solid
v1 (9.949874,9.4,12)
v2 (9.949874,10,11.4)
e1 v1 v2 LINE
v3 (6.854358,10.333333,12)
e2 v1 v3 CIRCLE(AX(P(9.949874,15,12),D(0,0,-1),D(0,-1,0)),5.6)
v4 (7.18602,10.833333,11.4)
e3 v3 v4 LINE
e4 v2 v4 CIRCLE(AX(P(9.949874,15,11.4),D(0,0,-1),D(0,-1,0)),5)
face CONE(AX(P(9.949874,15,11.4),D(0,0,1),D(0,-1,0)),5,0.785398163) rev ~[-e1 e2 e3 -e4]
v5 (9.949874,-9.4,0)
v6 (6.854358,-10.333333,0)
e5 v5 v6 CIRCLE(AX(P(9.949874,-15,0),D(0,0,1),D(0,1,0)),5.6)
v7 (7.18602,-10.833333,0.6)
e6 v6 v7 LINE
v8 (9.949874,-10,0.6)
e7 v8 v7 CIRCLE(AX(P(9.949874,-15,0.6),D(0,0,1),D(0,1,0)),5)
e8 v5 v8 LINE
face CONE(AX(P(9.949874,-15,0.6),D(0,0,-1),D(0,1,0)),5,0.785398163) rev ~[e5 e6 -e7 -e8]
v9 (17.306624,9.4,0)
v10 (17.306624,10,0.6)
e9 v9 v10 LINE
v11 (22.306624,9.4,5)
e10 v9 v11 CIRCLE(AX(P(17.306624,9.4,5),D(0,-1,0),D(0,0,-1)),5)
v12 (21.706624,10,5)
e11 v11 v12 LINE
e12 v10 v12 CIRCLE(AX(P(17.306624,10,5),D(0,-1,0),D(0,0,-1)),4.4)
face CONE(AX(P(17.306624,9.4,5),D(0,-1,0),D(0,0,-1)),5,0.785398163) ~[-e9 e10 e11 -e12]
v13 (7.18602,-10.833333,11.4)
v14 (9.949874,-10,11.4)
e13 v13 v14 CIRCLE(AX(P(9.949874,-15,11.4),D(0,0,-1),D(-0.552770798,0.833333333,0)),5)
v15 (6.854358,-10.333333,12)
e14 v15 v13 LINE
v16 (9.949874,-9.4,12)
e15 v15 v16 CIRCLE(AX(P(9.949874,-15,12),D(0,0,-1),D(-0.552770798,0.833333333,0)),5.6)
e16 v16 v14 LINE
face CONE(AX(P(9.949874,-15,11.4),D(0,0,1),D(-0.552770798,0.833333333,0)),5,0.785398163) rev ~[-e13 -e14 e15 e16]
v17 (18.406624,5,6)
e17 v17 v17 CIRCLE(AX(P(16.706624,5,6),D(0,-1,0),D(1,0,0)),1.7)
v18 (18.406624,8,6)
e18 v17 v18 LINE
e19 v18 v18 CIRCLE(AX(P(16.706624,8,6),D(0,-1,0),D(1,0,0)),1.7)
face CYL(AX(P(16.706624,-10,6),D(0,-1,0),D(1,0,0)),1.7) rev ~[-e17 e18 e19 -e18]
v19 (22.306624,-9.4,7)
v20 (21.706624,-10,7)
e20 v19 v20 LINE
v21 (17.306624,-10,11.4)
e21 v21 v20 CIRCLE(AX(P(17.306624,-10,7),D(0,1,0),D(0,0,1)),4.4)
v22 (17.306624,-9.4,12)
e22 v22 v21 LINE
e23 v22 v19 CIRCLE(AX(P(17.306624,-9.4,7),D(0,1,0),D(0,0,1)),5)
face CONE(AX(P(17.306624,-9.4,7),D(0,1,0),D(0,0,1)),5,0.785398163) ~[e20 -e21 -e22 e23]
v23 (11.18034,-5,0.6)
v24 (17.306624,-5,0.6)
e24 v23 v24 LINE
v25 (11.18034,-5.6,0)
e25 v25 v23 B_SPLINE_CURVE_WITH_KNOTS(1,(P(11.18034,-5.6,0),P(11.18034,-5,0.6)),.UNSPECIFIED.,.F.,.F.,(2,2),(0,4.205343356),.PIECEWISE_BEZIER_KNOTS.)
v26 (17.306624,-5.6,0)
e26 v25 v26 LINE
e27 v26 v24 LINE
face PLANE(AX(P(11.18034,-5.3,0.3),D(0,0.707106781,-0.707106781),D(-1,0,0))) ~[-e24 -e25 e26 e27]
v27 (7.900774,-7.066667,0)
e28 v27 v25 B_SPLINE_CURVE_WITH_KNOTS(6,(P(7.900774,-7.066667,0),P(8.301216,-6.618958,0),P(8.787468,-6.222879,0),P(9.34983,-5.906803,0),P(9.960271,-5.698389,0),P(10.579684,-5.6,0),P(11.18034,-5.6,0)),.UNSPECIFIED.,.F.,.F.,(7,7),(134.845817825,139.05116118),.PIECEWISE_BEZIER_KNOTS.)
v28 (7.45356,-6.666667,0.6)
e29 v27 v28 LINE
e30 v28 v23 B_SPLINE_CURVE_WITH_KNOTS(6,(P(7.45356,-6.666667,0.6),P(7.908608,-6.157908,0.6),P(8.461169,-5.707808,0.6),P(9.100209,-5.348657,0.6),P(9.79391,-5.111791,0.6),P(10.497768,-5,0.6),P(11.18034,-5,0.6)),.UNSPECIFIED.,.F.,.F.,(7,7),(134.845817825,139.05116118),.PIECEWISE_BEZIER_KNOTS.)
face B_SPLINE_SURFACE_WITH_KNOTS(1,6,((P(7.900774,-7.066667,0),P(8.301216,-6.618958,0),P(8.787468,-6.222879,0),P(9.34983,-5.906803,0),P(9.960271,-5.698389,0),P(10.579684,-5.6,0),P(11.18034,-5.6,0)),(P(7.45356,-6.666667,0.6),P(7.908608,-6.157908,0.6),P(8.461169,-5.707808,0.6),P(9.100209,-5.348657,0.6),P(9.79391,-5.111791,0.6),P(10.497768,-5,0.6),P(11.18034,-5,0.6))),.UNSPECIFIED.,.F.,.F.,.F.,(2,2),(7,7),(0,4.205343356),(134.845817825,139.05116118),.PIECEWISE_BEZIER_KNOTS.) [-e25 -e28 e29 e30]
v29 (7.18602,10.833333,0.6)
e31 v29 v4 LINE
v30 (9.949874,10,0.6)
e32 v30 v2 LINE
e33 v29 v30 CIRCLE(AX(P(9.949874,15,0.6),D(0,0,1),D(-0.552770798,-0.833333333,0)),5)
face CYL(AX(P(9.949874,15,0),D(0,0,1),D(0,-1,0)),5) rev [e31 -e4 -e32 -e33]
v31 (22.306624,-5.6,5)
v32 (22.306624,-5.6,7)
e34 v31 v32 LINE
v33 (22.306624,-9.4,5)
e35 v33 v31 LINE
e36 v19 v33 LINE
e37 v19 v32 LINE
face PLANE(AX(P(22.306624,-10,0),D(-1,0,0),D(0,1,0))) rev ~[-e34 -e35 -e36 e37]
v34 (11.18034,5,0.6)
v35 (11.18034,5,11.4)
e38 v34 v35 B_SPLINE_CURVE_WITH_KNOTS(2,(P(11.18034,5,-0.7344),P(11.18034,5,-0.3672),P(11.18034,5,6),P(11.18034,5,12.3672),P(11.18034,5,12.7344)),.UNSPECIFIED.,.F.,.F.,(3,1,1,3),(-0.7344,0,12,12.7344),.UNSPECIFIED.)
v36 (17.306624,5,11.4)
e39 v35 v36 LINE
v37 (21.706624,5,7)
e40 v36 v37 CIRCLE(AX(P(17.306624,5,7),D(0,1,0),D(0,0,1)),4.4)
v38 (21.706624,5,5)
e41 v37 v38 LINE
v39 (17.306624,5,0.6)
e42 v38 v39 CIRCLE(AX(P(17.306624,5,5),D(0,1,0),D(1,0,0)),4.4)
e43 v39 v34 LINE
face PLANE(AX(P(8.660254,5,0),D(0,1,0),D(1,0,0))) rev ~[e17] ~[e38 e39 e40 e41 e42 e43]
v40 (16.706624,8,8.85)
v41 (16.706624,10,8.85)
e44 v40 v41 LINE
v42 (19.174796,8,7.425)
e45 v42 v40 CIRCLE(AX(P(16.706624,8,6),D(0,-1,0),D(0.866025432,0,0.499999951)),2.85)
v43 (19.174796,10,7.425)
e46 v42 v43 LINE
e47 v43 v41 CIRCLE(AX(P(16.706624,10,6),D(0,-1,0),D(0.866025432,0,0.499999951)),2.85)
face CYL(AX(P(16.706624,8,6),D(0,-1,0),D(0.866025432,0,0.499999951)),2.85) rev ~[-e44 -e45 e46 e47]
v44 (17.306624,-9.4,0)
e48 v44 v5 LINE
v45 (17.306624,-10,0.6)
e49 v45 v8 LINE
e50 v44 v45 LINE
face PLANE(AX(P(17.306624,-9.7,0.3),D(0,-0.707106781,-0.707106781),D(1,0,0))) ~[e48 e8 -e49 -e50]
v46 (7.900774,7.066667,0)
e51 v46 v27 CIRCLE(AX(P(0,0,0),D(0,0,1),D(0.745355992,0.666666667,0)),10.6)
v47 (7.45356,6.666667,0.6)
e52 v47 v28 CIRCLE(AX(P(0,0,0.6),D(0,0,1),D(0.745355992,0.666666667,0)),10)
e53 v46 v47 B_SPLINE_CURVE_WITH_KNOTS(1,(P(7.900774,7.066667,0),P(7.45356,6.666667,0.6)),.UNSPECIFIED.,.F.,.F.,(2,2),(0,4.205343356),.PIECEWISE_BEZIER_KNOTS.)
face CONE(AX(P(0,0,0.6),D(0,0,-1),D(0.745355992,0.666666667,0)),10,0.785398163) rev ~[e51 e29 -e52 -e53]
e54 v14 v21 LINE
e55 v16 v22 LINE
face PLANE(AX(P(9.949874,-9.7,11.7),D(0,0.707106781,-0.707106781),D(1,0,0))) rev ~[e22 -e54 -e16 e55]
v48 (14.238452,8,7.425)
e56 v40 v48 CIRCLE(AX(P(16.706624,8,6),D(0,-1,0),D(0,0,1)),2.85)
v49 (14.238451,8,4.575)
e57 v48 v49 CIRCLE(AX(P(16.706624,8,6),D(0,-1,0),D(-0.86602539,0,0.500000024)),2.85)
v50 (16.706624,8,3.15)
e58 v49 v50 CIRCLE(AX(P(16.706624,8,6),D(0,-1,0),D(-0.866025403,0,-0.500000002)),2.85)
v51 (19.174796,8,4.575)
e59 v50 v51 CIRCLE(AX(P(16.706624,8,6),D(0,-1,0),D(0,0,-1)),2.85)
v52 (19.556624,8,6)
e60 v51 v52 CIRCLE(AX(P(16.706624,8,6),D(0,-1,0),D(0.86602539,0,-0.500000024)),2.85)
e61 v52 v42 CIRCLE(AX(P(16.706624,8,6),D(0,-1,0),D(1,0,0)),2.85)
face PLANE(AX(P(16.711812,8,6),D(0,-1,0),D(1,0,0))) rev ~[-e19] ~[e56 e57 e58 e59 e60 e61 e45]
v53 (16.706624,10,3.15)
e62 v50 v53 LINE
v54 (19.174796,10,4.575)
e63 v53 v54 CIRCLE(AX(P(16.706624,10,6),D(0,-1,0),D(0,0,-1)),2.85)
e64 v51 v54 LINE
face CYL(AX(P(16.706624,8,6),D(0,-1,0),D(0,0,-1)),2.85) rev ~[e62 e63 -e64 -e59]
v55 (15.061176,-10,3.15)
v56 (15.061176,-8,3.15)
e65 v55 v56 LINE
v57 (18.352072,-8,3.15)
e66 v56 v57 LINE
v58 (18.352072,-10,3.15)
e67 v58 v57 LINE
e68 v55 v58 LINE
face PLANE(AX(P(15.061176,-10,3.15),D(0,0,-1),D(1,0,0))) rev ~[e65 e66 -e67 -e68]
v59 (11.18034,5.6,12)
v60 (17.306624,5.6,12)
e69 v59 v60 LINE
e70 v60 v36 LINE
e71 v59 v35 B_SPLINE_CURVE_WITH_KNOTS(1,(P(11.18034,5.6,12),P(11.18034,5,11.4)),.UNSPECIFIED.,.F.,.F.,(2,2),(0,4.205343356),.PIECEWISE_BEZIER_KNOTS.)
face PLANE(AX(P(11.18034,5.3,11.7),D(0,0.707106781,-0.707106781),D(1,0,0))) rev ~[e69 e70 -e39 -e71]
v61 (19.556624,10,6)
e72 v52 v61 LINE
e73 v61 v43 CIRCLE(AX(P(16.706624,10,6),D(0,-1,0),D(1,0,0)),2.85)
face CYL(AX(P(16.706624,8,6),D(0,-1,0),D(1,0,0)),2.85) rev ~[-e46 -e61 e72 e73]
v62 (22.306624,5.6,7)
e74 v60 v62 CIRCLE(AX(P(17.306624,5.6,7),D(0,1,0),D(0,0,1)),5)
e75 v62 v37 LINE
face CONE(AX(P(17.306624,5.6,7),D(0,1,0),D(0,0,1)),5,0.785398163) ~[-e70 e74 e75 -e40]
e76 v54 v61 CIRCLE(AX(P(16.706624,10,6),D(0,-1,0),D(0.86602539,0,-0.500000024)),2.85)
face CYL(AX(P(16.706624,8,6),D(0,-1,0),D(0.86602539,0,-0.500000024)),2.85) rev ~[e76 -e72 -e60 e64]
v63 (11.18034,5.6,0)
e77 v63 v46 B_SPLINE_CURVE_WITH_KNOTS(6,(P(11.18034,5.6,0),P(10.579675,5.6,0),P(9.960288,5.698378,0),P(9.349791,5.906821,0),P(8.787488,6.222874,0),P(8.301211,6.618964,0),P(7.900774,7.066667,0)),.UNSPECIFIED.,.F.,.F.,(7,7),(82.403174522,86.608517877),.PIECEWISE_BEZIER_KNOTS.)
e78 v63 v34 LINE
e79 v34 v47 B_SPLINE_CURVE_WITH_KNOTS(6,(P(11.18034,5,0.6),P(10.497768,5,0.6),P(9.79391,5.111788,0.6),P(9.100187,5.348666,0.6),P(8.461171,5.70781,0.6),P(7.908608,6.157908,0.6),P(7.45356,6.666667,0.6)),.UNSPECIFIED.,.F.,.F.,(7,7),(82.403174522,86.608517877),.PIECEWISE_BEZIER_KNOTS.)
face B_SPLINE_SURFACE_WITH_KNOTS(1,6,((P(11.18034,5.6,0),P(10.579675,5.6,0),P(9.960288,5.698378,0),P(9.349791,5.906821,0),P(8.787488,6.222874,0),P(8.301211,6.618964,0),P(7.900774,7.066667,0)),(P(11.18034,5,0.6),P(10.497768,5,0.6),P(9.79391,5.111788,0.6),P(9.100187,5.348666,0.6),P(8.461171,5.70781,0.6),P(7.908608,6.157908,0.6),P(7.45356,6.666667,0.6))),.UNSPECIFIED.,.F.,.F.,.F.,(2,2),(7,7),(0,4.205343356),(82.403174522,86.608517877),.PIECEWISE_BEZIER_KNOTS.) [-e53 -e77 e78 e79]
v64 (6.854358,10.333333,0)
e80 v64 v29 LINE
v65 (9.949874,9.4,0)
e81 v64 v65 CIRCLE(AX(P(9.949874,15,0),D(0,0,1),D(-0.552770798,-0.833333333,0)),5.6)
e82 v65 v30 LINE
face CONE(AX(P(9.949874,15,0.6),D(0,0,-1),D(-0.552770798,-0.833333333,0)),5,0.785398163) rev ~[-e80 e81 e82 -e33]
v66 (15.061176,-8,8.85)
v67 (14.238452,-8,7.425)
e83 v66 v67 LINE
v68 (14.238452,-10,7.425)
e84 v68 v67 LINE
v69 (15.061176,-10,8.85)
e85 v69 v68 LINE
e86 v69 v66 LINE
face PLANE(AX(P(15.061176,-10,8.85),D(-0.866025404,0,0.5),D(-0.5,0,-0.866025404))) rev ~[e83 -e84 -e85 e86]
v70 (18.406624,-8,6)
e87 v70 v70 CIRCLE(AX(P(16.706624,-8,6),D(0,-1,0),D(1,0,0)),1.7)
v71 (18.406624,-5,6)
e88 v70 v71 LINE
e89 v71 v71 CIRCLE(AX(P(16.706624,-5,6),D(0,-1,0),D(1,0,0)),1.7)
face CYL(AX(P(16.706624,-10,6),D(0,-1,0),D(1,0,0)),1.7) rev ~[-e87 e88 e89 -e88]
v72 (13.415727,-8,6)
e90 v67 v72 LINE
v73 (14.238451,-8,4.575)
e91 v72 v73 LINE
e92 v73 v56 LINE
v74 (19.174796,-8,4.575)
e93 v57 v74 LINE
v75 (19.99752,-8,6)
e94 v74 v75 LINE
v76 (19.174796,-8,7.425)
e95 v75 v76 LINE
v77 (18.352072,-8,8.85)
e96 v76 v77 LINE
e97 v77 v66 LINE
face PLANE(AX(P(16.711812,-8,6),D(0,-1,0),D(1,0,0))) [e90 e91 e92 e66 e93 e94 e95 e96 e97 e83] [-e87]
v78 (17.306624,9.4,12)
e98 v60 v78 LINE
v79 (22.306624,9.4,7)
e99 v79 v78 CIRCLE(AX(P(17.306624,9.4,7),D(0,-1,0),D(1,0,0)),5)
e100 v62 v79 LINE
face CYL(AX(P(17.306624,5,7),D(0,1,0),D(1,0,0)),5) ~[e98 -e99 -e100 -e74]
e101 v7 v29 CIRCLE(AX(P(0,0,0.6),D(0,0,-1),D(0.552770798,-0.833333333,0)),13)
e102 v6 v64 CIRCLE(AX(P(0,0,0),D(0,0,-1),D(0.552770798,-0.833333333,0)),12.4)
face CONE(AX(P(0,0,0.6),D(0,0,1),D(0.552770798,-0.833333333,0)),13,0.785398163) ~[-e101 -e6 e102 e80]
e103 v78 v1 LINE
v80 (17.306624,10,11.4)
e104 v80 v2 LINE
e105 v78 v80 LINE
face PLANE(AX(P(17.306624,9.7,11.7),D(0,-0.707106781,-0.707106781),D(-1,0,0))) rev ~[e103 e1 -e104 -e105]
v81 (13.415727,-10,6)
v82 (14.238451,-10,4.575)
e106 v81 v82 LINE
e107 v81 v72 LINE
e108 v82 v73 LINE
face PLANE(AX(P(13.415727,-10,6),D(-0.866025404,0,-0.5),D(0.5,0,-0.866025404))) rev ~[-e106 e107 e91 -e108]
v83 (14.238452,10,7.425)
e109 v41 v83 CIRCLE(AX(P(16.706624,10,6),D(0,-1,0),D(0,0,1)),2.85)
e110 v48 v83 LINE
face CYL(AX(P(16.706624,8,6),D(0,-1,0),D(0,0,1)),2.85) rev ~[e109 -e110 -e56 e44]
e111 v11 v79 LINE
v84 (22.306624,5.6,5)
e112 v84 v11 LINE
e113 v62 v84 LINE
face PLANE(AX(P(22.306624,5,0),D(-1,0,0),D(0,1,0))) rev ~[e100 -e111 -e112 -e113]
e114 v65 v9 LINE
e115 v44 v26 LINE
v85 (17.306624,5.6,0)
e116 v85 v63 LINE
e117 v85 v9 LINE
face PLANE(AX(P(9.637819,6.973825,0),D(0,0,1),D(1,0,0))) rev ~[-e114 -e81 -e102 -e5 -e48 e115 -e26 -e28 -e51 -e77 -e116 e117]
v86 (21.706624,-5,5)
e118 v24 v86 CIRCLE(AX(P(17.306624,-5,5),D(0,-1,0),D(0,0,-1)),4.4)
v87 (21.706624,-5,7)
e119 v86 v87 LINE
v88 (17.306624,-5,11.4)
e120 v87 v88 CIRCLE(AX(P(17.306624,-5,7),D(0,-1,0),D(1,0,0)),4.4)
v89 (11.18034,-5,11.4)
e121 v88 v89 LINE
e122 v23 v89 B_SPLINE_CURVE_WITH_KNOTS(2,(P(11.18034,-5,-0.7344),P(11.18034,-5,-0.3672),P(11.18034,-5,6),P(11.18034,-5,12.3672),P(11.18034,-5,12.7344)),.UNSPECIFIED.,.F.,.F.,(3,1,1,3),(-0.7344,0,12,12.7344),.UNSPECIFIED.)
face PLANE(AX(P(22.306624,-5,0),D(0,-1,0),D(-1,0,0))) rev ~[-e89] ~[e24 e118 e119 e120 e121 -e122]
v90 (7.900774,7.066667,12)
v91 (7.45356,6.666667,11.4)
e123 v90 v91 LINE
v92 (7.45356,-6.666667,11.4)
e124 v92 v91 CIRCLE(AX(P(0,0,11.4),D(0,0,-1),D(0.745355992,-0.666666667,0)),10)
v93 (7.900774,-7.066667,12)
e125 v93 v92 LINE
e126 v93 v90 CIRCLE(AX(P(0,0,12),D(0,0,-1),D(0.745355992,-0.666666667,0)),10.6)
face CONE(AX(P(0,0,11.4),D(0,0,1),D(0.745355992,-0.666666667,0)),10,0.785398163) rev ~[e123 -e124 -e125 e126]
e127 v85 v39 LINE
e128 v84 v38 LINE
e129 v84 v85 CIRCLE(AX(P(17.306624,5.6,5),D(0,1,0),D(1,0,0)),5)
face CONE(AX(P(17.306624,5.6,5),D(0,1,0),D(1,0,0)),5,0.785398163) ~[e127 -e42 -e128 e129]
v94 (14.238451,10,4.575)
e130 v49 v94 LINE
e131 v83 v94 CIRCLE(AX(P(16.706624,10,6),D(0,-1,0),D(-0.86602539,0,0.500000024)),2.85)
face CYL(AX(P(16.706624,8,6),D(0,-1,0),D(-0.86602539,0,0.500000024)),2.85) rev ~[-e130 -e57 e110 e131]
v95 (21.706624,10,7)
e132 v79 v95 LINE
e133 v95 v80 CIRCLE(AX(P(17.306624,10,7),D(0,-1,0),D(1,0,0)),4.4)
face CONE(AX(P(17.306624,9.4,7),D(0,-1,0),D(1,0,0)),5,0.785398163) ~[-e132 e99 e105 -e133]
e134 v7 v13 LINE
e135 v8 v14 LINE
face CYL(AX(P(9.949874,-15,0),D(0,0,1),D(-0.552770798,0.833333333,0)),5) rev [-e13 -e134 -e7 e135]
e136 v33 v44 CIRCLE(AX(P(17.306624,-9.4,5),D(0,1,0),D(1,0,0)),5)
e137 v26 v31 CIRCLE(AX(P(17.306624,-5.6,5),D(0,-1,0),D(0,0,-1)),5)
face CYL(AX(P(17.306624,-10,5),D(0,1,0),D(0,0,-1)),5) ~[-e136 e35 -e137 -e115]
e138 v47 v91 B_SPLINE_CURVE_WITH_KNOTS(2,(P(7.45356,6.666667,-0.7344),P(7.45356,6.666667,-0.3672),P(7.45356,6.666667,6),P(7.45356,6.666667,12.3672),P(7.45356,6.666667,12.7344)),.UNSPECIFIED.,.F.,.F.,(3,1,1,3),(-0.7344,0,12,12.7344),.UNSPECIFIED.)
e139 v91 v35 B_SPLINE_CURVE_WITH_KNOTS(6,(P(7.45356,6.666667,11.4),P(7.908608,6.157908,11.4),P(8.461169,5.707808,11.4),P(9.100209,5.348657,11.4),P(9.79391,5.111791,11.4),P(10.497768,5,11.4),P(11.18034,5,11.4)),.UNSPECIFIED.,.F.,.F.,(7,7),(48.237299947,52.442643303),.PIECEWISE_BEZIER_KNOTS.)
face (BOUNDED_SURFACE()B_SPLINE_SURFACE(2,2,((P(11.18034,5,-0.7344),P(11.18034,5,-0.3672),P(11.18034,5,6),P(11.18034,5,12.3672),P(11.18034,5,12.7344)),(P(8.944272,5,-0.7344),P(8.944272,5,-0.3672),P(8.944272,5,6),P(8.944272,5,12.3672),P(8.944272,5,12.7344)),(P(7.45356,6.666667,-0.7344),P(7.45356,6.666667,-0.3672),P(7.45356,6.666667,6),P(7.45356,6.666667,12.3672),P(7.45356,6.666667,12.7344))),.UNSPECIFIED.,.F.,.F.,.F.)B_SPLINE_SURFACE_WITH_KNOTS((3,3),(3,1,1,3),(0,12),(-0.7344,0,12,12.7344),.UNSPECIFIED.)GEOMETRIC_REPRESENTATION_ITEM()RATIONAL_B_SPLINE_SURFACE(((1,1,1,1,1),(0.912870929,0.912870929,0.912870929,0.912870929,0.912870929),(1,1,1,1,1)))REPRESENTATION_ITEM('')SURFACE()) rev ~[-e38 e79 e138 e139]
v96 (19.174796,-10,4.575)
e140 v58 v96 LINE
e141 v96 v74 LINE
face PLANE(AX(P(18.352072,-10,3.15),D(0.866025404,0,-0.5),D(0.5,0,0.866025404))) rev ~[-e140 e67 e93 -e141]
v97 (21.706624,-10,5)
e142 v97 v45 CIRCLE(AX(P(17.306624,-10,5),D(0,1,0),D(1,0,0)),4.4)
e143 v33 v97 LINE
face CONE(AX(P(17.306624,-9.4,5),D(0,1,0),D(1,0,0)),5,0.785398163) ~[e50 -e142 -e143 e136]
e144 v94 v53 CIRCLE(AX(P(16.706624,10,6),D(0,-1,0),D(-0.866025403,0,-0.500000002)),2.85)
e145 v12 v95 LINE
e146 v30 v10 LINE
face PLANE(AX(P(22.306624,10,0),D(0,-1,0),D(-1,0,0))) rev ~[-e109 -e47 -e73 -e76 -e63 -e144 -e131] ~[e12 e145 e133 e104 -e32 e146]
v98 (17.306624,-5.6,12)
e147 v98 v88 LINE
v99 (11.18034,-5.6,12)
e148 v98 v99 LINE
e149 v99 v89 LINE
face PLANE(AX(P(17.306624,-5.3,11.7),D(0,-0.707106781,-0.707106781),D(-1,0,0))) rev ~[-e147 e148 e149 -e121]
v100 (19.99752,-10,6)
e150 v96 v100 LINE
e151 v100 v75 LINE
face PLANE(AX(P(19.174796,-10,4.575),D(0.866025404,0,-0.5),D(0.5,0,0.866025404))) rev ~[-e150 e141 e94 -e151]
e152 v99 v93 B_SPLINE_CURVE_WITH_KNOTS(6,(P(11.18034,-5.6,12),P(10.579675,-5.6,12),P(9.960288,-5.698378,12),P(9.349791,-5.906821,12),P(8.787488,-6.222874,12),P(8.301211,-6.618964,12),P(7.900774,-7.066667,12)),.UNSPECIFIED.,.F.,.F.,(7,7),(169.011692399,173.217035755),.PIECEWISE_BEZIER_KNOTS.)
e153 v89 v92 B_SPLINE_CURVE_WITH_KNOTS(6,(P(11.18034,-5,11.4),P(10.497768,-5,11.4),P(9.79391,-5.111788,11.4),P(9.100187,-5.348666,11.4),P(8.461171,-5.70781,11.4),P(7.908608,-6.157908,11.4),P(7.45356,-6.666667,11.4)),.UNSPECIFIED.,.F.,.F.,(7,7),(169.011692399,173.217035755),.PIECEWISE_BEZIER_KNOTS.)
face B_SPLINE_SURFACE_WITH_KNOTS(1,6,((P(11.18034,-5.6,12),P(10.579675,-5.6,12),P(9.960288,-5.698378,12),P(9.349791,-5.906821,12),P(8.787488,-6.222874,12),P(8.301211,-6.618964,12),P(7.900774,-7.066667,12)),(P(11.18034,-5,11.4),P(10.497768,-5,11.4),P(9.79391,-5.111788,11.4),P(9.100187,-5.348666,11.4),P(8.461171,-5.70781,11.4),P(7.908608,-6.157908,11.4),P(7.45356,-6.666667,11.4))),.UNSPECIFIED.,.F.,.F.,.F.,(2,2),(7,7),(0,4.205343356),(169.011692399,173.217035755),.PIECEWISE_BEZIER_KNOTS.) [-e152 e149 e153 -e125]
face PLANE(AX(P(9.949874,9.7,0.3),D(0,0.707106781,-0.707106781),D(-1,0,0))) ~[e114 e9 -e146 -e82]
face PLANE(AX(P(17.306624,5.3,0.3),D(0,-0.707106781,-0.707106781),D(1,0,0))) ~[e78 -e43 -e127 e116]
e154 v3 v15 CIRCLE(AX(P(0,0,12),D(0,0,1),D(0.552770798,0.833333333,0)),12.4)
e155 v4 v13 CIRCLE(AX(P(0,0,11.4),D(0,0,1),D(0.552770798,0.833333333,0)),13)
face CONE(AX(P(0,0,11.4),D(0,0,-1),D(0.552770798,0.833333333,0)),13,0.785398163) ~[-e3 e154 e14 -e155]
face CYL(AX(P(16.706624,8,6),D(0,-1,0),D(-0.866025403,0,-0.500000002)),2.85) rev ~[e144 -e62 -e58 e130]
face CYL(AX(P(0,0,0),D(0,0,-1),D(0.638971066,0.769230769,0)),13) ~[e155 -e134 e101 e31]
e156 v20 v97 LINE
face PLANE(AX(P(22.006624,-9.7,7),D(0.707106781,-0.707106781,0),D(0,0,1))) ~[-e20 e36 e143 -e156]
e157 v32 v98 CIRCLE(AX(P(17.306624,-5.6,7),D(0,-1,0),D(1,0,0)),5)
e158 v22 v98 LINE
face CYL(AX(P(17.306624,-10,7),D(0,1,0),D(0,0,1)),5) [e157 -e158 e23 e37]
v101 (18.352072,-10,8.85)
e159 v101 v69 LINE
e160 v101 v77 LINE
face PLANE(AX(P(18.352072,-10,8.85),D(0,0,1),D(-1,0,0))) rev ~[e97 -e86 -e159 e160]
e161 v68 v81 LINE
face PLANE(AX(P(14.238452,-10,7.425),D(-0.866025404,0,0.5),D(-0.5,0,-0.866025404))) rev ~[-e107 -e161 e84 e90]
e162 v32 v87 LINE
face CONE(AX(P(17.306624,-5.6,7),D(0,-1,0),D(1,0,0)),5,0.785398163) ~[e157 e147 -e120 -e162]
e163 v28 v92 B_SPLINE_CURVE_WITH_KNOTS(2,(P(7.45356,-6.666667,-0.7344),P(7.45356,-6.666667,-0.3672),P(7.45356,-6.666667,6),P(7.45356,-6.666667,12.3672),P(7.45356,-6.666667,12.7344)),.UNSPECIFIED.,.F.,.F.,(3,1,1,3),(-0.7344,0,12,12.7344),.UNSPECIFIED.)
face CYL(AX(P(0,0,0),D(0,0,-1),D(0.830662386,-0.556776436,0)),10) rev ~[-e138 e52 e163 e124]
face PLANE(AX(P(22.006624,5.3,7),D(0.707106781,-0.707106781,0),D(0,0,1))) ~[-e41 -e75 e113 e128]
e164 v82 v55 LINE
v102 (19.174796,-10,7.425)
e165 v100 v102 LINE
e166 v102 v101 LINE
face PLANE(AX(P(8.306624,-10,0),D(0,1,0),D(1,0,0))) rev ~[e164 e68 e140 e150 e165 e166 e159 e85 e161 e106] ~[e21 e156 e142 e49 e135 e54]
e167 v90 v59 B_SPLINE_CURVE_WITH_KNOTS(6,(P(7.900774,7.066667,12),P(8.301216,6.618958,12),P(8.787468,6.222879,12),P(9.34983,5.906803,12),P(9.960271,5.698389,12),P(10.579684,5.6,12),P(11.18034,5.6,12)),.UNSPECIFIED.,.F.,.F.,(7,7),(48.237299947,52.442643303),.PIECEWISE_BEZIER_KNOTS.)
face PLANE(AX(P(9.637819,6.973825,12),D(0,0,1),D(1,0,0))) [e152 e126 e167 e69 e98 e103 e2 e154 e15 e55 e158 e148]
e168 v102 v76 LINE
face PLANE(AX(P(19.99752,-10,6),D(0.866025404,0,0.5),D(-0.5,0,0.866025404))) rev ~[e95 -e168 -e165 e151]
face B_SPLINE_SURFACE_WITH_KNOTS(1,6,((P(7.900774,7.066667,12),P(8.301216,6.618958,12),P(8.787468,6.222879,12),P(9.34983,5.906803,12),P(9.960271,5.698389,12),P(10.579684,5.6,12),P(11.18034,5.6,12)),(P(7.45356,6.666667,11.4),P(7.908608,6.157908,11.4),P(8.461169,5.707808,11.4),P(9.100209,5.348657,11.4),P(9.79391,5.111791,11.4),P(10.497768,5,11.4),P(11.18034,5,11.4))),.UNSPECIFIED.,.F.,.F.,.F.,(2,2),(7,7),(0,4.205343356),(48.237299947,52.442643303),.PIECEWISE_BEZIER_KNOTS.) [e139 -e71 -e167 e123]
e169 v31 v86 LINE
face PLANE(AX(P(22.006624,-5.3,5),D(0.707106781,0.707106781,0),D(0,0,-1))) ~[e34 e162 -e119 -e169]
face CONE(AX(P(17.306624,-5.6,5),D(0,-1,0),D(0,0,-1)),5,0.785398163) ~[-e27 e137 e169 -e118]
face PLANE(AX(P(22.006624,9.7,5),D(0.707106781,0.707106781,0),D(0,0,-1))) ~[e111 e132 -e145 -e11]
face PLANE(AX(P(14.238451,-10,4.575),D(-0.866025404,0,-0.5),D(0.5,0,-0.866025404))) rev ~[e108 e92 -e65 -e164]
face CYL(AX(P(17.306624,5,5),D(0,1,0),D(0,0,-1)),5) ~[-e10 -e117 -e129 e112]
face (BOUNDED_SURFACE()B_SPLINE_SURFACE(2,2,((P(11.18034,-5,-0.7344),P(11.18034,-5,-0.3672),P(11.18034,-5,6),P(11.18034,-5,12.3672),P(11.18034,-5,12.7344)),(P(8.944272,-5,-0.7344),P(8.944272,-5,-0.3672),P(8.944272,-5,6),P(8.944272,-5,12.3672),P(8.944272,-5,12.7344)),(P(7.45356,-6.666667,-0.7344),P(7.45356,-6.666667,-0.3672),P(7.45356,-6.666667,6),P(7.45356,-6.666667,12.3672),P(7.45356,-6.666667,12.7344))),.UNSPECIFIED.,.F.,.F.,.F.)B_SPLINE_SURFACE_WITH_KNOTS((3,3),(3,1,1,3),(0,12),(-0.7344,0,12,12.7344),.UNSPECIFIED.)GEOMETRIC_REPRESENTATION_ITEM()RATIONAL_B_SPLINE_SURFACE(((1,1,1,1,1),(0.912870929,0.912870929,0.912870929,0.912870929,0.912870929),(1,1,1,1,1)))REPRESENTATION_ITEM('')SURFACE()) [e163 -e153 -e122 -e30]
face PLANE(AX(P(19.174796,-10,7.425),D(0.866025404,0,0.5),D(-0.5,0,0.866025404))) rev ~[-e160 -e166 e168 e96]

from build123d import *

# Parameters (mm, degrees)
F1_DEPTH = 12
F2_R     = 5
F3_R     = 5
F4_SIZE  = 0.6
F5_R     = 1.7
F6_DEPTH = 23.001
F7_DEPTH = 2
F8_START = -18
F8_DEPTH = 2


with BuildPart() as f1:
    # F0 (on Top) → F1 (new body)
    with BuildSketch(Plane.XY):
        with BuildLine():
            ThreePointArc((8.3066238629, 5.5677643628), (8.4881874106, 5.2868397443), (8.6602540378, 5))
            Line((8.6602540378, 5), (12, 5))
            ThreePointArc((12, 5), (10.4565645973, 7.7240052319), (8.3066238629, 10))
            Line((8.3066238629, 10), (8.3066238629, 5.5677643628))
        make_face()
        with BuildLine():
            ThreePointArc((8.3066238629, 10), (10.4565645973, 7.7240052319), (12, 5))
            Line((12, 5), (22.3066238629, 5))
            Line((22.3066238629, 5), (22.3066238629, 10))
            Line((22.3066238629, 10), (8.3066238629, 10))
        make_face()
        with BuildLine():
            Line((22.3066238629, -5), (12, -5))
            ThreePointArc((12, -5), (10.4565645973, -7.7240052319), (8.3066238629, -10))
            Line((8.3066238629, -10), (22.3066238629, -10))
            Line((22.3066238629, -10), (22.3066238629, -5))
        make_face()
        with BuildLine():
            ThreePointArc((8.3066238629, -5.5677643628), (-10, 0), (8.3066238629, 5.5677643628))
            Line((8.3066238629, 5.5677643628), (8.3066238629, 10))
            ThreePointArc((8.3066238629, 10), (-13, 0), (8.3066238629, -10))
            Line((8.3066238629, -10), (8.3066238629, -5.5677643628))
        make_face()
        with BuildLine():
            Line((12, -5), (8.6602540378, -5))
            ThreePointArc((8.6602540378, -5), (8.4881874106, -5.2868397443), (8.3066238629, -5.5677643628))
            Line((8.3066238629, -5.5677643628), (8.3066238629, -10))
            ThreePointArc((8.3066238629, -10), (10.4565645973, -7.7240052319), (12, -5))
        make_face()
    extrude(amount=F1_DEPTH)

    # F2
    f2_edges = [f1.edges().sort_by_distance(p)[0] for p in [
        (8.306624, -10, 6),
        (8.306624, 10, 6),
        (8.660254, -5, 6),
        (8.660254, 5, 6),
    ]]
    fillet(f2_edges, radius=F2_R)

    # F3
    f3_edges = [f1.edges().sort_by_distance(p)[0] for p in [
        (22.306624, -7.5, 12),
        (22.306624, 7.5, 12),
        (22.306624, -7.5, 0),
        (22.306624, 7.5, 0),
    ]]
    fillet(f3_edges, radius=F3_R)

    # F4
    f4_edges = [f1.edges().sort_by_distance(p)[0] for p in [
        (-10, 0, 12),
        (-13, 0, 12),
        (-13, 0, 0),
        (-10, 0, 0),
    ]]
    chamfer(f4_edges, length=F4_SIZE)

    # F5 (on face) → F6 (cut, through all)
    with BuildSketch(Plane.XZ.offset(10)):
        with Locations((16.7066238629, 6)):
            Circle(F5_R)
    extrude(amount=-F6_DEPTH, mode=Mode.SUBTRACT)

    # F5 (on face) → F7 (cut)
    with BuildSketch(Plane.XZ.offset(10)):
        with BuildLine():
            ThreePointArc((19.1747962235, 4.5749999304), (19.4595124574, 5.2623656827), (19.5566238629, 6))
            ThreePointArc((19.5566238629, 6), (19.4595124887, 6.7376342007), (19.1747963443, 7.4249998605))
            ThreePointArc((19.1747963443, 7.4249998605), (18.1316239327, 8.4681723605), (16.7066238629, 8.85))
            ThreePointArc((16.7066238629, 8.85), (15.2816238977, 8.4681724209), (14.2384515023, 7.4250000696))
            ThreePointArc((14.2384515023, 7.4250000696), (13.8566238629, 6.0000000373), (14.238451465, 4.574999995))
            ThreePointArc((14.238451465, 4.574999995), (15.2816238654, 3.5318275978), (16.7066238629, 3.15))
            ThreePointArc((16.7066238629, 3.15), (18.1316238281, 3.5318275791), (19.1747962235, 4.5749999304))
        make_face()
        with Locations((16.7066238629, 6)):
            Circle(F5_R, mode=Mode.SUBTRACT)
        with BuildLine():
            Line((15.0611755957, 3.15), (16.7066238629, 3.15))
            ThreePointArc((16.7066238629, 3.15), (15.2816238654, 3.5318275978), (14.238451465, 4.574999995))
            Line((14.238451465, 4.574999995), (15.0611755957, 3.15))
        make_face()
        with BuildLine():
            Line((18.3520721301, 3.15), (19.1747962235, 4.5749999304))
            ThreePointArc((19.1747962235, 4.5749999304), (18.1316238281, 3.5318275791), (16.7066238629, 3.15))
            Line((16.7066238629, 3.15), (18.3520721301, 3.15))
        make_face()
        with BuildLine():
            ThreePointArc((19.1747963443, 7.4249998605), (19.4595124887, 6.7376342007), (19.5566238629, 6))
            ThreePointArc((19.5566238629, 6), (19.4595124574, 5.2623656827), (19.1747962235, 4.5749999304))
            Line((19.1747962235, 4.5749999304), (19.9975203973, 6))
            Line((19.9975203973, 6), (19.1747963443, 7.4249998605))
        make_face()
        with BuildLine():
            ThreePointArc((16.7066238629, 8.85), (18.1316239327, 8.4681723605), (19.1747963443, 7.4249998605))
            Line((19.1747963443, 7.4249998605), (18.3520721301, 8.85))
            Line((18.3520721301, 8.85), (16.7066238629, 8.85))
        make_face()
        with BuildLine():
            ThreePointArc((14.238451465, 4.574999995), (13.8566238629, 6.0000000373), (14.2384515023, 7.4250000696))
            Line((14.2384515023, 7.4250000696), (13.4157273285, 6))
            Line((13.4157273285, 6), (14.238451465, 4.574999995))
        make_face()
        with BuildLine():
            ThreePointArc((14.2384515023, 7.4250000696), (15.2816238977, 8.4681724209), (16.7066238629, 8.85))
            Line((16.7066238629, 8.85), (15.0611755957, 8.85))
            Line((15.0611755957, 8.85), (14.2384515023, 7.4250000696))
        make_face()
    extrude(amount=-F7_DEPTH, mode=Mode.SUBTRACT)

    # F5 (on face) → F8 (cut)
    with BuildSketch(Plane.XZ.offset(10).offset(F8_START)):
        with BuildLine():
            ThreePointArc((19.1747962235, 4.5749999304), (19.4595124574, 5.2623656827), (19.5566238629, 6))
            ThreePointArc((19.5566238629, 6), (19.4595124887, 6.7376342007), (19.1747963443, 7.4249998605))
            ThreePointArc((19.1747963443, 7.4249998605), (18.1316239327, 8.4681723605), (16.7066238629, 8.85))
            ThreePointArc((16.7066238629, 8.85), (15.2816238977, 8.4681724209), (14.2384515023, 7.4250000696))
            ThreePointArc((14.2384515023, 7.4250000696), (13.8566238629, 6.0000000373), (14.238451465, 4.574999995))
            ThreePointArc((14.238451465, 4.574999995), (15.2816238654, 3.5318275978), (16.7066238629, 3.15))
            ThreePointArc((16.7066238629, 3.15), (18.1316238281, 3.5318275791), (19.1747962235, 4.5749999304))
        make_face()
        with Locations((16.7066238629, 6)):
            Circle(F5_R, mode=Mode.SUBTRACT)
    extrude(amount=-F8_DEPTH, mode=Mode.SUBTRACT)


solid = f1.part
